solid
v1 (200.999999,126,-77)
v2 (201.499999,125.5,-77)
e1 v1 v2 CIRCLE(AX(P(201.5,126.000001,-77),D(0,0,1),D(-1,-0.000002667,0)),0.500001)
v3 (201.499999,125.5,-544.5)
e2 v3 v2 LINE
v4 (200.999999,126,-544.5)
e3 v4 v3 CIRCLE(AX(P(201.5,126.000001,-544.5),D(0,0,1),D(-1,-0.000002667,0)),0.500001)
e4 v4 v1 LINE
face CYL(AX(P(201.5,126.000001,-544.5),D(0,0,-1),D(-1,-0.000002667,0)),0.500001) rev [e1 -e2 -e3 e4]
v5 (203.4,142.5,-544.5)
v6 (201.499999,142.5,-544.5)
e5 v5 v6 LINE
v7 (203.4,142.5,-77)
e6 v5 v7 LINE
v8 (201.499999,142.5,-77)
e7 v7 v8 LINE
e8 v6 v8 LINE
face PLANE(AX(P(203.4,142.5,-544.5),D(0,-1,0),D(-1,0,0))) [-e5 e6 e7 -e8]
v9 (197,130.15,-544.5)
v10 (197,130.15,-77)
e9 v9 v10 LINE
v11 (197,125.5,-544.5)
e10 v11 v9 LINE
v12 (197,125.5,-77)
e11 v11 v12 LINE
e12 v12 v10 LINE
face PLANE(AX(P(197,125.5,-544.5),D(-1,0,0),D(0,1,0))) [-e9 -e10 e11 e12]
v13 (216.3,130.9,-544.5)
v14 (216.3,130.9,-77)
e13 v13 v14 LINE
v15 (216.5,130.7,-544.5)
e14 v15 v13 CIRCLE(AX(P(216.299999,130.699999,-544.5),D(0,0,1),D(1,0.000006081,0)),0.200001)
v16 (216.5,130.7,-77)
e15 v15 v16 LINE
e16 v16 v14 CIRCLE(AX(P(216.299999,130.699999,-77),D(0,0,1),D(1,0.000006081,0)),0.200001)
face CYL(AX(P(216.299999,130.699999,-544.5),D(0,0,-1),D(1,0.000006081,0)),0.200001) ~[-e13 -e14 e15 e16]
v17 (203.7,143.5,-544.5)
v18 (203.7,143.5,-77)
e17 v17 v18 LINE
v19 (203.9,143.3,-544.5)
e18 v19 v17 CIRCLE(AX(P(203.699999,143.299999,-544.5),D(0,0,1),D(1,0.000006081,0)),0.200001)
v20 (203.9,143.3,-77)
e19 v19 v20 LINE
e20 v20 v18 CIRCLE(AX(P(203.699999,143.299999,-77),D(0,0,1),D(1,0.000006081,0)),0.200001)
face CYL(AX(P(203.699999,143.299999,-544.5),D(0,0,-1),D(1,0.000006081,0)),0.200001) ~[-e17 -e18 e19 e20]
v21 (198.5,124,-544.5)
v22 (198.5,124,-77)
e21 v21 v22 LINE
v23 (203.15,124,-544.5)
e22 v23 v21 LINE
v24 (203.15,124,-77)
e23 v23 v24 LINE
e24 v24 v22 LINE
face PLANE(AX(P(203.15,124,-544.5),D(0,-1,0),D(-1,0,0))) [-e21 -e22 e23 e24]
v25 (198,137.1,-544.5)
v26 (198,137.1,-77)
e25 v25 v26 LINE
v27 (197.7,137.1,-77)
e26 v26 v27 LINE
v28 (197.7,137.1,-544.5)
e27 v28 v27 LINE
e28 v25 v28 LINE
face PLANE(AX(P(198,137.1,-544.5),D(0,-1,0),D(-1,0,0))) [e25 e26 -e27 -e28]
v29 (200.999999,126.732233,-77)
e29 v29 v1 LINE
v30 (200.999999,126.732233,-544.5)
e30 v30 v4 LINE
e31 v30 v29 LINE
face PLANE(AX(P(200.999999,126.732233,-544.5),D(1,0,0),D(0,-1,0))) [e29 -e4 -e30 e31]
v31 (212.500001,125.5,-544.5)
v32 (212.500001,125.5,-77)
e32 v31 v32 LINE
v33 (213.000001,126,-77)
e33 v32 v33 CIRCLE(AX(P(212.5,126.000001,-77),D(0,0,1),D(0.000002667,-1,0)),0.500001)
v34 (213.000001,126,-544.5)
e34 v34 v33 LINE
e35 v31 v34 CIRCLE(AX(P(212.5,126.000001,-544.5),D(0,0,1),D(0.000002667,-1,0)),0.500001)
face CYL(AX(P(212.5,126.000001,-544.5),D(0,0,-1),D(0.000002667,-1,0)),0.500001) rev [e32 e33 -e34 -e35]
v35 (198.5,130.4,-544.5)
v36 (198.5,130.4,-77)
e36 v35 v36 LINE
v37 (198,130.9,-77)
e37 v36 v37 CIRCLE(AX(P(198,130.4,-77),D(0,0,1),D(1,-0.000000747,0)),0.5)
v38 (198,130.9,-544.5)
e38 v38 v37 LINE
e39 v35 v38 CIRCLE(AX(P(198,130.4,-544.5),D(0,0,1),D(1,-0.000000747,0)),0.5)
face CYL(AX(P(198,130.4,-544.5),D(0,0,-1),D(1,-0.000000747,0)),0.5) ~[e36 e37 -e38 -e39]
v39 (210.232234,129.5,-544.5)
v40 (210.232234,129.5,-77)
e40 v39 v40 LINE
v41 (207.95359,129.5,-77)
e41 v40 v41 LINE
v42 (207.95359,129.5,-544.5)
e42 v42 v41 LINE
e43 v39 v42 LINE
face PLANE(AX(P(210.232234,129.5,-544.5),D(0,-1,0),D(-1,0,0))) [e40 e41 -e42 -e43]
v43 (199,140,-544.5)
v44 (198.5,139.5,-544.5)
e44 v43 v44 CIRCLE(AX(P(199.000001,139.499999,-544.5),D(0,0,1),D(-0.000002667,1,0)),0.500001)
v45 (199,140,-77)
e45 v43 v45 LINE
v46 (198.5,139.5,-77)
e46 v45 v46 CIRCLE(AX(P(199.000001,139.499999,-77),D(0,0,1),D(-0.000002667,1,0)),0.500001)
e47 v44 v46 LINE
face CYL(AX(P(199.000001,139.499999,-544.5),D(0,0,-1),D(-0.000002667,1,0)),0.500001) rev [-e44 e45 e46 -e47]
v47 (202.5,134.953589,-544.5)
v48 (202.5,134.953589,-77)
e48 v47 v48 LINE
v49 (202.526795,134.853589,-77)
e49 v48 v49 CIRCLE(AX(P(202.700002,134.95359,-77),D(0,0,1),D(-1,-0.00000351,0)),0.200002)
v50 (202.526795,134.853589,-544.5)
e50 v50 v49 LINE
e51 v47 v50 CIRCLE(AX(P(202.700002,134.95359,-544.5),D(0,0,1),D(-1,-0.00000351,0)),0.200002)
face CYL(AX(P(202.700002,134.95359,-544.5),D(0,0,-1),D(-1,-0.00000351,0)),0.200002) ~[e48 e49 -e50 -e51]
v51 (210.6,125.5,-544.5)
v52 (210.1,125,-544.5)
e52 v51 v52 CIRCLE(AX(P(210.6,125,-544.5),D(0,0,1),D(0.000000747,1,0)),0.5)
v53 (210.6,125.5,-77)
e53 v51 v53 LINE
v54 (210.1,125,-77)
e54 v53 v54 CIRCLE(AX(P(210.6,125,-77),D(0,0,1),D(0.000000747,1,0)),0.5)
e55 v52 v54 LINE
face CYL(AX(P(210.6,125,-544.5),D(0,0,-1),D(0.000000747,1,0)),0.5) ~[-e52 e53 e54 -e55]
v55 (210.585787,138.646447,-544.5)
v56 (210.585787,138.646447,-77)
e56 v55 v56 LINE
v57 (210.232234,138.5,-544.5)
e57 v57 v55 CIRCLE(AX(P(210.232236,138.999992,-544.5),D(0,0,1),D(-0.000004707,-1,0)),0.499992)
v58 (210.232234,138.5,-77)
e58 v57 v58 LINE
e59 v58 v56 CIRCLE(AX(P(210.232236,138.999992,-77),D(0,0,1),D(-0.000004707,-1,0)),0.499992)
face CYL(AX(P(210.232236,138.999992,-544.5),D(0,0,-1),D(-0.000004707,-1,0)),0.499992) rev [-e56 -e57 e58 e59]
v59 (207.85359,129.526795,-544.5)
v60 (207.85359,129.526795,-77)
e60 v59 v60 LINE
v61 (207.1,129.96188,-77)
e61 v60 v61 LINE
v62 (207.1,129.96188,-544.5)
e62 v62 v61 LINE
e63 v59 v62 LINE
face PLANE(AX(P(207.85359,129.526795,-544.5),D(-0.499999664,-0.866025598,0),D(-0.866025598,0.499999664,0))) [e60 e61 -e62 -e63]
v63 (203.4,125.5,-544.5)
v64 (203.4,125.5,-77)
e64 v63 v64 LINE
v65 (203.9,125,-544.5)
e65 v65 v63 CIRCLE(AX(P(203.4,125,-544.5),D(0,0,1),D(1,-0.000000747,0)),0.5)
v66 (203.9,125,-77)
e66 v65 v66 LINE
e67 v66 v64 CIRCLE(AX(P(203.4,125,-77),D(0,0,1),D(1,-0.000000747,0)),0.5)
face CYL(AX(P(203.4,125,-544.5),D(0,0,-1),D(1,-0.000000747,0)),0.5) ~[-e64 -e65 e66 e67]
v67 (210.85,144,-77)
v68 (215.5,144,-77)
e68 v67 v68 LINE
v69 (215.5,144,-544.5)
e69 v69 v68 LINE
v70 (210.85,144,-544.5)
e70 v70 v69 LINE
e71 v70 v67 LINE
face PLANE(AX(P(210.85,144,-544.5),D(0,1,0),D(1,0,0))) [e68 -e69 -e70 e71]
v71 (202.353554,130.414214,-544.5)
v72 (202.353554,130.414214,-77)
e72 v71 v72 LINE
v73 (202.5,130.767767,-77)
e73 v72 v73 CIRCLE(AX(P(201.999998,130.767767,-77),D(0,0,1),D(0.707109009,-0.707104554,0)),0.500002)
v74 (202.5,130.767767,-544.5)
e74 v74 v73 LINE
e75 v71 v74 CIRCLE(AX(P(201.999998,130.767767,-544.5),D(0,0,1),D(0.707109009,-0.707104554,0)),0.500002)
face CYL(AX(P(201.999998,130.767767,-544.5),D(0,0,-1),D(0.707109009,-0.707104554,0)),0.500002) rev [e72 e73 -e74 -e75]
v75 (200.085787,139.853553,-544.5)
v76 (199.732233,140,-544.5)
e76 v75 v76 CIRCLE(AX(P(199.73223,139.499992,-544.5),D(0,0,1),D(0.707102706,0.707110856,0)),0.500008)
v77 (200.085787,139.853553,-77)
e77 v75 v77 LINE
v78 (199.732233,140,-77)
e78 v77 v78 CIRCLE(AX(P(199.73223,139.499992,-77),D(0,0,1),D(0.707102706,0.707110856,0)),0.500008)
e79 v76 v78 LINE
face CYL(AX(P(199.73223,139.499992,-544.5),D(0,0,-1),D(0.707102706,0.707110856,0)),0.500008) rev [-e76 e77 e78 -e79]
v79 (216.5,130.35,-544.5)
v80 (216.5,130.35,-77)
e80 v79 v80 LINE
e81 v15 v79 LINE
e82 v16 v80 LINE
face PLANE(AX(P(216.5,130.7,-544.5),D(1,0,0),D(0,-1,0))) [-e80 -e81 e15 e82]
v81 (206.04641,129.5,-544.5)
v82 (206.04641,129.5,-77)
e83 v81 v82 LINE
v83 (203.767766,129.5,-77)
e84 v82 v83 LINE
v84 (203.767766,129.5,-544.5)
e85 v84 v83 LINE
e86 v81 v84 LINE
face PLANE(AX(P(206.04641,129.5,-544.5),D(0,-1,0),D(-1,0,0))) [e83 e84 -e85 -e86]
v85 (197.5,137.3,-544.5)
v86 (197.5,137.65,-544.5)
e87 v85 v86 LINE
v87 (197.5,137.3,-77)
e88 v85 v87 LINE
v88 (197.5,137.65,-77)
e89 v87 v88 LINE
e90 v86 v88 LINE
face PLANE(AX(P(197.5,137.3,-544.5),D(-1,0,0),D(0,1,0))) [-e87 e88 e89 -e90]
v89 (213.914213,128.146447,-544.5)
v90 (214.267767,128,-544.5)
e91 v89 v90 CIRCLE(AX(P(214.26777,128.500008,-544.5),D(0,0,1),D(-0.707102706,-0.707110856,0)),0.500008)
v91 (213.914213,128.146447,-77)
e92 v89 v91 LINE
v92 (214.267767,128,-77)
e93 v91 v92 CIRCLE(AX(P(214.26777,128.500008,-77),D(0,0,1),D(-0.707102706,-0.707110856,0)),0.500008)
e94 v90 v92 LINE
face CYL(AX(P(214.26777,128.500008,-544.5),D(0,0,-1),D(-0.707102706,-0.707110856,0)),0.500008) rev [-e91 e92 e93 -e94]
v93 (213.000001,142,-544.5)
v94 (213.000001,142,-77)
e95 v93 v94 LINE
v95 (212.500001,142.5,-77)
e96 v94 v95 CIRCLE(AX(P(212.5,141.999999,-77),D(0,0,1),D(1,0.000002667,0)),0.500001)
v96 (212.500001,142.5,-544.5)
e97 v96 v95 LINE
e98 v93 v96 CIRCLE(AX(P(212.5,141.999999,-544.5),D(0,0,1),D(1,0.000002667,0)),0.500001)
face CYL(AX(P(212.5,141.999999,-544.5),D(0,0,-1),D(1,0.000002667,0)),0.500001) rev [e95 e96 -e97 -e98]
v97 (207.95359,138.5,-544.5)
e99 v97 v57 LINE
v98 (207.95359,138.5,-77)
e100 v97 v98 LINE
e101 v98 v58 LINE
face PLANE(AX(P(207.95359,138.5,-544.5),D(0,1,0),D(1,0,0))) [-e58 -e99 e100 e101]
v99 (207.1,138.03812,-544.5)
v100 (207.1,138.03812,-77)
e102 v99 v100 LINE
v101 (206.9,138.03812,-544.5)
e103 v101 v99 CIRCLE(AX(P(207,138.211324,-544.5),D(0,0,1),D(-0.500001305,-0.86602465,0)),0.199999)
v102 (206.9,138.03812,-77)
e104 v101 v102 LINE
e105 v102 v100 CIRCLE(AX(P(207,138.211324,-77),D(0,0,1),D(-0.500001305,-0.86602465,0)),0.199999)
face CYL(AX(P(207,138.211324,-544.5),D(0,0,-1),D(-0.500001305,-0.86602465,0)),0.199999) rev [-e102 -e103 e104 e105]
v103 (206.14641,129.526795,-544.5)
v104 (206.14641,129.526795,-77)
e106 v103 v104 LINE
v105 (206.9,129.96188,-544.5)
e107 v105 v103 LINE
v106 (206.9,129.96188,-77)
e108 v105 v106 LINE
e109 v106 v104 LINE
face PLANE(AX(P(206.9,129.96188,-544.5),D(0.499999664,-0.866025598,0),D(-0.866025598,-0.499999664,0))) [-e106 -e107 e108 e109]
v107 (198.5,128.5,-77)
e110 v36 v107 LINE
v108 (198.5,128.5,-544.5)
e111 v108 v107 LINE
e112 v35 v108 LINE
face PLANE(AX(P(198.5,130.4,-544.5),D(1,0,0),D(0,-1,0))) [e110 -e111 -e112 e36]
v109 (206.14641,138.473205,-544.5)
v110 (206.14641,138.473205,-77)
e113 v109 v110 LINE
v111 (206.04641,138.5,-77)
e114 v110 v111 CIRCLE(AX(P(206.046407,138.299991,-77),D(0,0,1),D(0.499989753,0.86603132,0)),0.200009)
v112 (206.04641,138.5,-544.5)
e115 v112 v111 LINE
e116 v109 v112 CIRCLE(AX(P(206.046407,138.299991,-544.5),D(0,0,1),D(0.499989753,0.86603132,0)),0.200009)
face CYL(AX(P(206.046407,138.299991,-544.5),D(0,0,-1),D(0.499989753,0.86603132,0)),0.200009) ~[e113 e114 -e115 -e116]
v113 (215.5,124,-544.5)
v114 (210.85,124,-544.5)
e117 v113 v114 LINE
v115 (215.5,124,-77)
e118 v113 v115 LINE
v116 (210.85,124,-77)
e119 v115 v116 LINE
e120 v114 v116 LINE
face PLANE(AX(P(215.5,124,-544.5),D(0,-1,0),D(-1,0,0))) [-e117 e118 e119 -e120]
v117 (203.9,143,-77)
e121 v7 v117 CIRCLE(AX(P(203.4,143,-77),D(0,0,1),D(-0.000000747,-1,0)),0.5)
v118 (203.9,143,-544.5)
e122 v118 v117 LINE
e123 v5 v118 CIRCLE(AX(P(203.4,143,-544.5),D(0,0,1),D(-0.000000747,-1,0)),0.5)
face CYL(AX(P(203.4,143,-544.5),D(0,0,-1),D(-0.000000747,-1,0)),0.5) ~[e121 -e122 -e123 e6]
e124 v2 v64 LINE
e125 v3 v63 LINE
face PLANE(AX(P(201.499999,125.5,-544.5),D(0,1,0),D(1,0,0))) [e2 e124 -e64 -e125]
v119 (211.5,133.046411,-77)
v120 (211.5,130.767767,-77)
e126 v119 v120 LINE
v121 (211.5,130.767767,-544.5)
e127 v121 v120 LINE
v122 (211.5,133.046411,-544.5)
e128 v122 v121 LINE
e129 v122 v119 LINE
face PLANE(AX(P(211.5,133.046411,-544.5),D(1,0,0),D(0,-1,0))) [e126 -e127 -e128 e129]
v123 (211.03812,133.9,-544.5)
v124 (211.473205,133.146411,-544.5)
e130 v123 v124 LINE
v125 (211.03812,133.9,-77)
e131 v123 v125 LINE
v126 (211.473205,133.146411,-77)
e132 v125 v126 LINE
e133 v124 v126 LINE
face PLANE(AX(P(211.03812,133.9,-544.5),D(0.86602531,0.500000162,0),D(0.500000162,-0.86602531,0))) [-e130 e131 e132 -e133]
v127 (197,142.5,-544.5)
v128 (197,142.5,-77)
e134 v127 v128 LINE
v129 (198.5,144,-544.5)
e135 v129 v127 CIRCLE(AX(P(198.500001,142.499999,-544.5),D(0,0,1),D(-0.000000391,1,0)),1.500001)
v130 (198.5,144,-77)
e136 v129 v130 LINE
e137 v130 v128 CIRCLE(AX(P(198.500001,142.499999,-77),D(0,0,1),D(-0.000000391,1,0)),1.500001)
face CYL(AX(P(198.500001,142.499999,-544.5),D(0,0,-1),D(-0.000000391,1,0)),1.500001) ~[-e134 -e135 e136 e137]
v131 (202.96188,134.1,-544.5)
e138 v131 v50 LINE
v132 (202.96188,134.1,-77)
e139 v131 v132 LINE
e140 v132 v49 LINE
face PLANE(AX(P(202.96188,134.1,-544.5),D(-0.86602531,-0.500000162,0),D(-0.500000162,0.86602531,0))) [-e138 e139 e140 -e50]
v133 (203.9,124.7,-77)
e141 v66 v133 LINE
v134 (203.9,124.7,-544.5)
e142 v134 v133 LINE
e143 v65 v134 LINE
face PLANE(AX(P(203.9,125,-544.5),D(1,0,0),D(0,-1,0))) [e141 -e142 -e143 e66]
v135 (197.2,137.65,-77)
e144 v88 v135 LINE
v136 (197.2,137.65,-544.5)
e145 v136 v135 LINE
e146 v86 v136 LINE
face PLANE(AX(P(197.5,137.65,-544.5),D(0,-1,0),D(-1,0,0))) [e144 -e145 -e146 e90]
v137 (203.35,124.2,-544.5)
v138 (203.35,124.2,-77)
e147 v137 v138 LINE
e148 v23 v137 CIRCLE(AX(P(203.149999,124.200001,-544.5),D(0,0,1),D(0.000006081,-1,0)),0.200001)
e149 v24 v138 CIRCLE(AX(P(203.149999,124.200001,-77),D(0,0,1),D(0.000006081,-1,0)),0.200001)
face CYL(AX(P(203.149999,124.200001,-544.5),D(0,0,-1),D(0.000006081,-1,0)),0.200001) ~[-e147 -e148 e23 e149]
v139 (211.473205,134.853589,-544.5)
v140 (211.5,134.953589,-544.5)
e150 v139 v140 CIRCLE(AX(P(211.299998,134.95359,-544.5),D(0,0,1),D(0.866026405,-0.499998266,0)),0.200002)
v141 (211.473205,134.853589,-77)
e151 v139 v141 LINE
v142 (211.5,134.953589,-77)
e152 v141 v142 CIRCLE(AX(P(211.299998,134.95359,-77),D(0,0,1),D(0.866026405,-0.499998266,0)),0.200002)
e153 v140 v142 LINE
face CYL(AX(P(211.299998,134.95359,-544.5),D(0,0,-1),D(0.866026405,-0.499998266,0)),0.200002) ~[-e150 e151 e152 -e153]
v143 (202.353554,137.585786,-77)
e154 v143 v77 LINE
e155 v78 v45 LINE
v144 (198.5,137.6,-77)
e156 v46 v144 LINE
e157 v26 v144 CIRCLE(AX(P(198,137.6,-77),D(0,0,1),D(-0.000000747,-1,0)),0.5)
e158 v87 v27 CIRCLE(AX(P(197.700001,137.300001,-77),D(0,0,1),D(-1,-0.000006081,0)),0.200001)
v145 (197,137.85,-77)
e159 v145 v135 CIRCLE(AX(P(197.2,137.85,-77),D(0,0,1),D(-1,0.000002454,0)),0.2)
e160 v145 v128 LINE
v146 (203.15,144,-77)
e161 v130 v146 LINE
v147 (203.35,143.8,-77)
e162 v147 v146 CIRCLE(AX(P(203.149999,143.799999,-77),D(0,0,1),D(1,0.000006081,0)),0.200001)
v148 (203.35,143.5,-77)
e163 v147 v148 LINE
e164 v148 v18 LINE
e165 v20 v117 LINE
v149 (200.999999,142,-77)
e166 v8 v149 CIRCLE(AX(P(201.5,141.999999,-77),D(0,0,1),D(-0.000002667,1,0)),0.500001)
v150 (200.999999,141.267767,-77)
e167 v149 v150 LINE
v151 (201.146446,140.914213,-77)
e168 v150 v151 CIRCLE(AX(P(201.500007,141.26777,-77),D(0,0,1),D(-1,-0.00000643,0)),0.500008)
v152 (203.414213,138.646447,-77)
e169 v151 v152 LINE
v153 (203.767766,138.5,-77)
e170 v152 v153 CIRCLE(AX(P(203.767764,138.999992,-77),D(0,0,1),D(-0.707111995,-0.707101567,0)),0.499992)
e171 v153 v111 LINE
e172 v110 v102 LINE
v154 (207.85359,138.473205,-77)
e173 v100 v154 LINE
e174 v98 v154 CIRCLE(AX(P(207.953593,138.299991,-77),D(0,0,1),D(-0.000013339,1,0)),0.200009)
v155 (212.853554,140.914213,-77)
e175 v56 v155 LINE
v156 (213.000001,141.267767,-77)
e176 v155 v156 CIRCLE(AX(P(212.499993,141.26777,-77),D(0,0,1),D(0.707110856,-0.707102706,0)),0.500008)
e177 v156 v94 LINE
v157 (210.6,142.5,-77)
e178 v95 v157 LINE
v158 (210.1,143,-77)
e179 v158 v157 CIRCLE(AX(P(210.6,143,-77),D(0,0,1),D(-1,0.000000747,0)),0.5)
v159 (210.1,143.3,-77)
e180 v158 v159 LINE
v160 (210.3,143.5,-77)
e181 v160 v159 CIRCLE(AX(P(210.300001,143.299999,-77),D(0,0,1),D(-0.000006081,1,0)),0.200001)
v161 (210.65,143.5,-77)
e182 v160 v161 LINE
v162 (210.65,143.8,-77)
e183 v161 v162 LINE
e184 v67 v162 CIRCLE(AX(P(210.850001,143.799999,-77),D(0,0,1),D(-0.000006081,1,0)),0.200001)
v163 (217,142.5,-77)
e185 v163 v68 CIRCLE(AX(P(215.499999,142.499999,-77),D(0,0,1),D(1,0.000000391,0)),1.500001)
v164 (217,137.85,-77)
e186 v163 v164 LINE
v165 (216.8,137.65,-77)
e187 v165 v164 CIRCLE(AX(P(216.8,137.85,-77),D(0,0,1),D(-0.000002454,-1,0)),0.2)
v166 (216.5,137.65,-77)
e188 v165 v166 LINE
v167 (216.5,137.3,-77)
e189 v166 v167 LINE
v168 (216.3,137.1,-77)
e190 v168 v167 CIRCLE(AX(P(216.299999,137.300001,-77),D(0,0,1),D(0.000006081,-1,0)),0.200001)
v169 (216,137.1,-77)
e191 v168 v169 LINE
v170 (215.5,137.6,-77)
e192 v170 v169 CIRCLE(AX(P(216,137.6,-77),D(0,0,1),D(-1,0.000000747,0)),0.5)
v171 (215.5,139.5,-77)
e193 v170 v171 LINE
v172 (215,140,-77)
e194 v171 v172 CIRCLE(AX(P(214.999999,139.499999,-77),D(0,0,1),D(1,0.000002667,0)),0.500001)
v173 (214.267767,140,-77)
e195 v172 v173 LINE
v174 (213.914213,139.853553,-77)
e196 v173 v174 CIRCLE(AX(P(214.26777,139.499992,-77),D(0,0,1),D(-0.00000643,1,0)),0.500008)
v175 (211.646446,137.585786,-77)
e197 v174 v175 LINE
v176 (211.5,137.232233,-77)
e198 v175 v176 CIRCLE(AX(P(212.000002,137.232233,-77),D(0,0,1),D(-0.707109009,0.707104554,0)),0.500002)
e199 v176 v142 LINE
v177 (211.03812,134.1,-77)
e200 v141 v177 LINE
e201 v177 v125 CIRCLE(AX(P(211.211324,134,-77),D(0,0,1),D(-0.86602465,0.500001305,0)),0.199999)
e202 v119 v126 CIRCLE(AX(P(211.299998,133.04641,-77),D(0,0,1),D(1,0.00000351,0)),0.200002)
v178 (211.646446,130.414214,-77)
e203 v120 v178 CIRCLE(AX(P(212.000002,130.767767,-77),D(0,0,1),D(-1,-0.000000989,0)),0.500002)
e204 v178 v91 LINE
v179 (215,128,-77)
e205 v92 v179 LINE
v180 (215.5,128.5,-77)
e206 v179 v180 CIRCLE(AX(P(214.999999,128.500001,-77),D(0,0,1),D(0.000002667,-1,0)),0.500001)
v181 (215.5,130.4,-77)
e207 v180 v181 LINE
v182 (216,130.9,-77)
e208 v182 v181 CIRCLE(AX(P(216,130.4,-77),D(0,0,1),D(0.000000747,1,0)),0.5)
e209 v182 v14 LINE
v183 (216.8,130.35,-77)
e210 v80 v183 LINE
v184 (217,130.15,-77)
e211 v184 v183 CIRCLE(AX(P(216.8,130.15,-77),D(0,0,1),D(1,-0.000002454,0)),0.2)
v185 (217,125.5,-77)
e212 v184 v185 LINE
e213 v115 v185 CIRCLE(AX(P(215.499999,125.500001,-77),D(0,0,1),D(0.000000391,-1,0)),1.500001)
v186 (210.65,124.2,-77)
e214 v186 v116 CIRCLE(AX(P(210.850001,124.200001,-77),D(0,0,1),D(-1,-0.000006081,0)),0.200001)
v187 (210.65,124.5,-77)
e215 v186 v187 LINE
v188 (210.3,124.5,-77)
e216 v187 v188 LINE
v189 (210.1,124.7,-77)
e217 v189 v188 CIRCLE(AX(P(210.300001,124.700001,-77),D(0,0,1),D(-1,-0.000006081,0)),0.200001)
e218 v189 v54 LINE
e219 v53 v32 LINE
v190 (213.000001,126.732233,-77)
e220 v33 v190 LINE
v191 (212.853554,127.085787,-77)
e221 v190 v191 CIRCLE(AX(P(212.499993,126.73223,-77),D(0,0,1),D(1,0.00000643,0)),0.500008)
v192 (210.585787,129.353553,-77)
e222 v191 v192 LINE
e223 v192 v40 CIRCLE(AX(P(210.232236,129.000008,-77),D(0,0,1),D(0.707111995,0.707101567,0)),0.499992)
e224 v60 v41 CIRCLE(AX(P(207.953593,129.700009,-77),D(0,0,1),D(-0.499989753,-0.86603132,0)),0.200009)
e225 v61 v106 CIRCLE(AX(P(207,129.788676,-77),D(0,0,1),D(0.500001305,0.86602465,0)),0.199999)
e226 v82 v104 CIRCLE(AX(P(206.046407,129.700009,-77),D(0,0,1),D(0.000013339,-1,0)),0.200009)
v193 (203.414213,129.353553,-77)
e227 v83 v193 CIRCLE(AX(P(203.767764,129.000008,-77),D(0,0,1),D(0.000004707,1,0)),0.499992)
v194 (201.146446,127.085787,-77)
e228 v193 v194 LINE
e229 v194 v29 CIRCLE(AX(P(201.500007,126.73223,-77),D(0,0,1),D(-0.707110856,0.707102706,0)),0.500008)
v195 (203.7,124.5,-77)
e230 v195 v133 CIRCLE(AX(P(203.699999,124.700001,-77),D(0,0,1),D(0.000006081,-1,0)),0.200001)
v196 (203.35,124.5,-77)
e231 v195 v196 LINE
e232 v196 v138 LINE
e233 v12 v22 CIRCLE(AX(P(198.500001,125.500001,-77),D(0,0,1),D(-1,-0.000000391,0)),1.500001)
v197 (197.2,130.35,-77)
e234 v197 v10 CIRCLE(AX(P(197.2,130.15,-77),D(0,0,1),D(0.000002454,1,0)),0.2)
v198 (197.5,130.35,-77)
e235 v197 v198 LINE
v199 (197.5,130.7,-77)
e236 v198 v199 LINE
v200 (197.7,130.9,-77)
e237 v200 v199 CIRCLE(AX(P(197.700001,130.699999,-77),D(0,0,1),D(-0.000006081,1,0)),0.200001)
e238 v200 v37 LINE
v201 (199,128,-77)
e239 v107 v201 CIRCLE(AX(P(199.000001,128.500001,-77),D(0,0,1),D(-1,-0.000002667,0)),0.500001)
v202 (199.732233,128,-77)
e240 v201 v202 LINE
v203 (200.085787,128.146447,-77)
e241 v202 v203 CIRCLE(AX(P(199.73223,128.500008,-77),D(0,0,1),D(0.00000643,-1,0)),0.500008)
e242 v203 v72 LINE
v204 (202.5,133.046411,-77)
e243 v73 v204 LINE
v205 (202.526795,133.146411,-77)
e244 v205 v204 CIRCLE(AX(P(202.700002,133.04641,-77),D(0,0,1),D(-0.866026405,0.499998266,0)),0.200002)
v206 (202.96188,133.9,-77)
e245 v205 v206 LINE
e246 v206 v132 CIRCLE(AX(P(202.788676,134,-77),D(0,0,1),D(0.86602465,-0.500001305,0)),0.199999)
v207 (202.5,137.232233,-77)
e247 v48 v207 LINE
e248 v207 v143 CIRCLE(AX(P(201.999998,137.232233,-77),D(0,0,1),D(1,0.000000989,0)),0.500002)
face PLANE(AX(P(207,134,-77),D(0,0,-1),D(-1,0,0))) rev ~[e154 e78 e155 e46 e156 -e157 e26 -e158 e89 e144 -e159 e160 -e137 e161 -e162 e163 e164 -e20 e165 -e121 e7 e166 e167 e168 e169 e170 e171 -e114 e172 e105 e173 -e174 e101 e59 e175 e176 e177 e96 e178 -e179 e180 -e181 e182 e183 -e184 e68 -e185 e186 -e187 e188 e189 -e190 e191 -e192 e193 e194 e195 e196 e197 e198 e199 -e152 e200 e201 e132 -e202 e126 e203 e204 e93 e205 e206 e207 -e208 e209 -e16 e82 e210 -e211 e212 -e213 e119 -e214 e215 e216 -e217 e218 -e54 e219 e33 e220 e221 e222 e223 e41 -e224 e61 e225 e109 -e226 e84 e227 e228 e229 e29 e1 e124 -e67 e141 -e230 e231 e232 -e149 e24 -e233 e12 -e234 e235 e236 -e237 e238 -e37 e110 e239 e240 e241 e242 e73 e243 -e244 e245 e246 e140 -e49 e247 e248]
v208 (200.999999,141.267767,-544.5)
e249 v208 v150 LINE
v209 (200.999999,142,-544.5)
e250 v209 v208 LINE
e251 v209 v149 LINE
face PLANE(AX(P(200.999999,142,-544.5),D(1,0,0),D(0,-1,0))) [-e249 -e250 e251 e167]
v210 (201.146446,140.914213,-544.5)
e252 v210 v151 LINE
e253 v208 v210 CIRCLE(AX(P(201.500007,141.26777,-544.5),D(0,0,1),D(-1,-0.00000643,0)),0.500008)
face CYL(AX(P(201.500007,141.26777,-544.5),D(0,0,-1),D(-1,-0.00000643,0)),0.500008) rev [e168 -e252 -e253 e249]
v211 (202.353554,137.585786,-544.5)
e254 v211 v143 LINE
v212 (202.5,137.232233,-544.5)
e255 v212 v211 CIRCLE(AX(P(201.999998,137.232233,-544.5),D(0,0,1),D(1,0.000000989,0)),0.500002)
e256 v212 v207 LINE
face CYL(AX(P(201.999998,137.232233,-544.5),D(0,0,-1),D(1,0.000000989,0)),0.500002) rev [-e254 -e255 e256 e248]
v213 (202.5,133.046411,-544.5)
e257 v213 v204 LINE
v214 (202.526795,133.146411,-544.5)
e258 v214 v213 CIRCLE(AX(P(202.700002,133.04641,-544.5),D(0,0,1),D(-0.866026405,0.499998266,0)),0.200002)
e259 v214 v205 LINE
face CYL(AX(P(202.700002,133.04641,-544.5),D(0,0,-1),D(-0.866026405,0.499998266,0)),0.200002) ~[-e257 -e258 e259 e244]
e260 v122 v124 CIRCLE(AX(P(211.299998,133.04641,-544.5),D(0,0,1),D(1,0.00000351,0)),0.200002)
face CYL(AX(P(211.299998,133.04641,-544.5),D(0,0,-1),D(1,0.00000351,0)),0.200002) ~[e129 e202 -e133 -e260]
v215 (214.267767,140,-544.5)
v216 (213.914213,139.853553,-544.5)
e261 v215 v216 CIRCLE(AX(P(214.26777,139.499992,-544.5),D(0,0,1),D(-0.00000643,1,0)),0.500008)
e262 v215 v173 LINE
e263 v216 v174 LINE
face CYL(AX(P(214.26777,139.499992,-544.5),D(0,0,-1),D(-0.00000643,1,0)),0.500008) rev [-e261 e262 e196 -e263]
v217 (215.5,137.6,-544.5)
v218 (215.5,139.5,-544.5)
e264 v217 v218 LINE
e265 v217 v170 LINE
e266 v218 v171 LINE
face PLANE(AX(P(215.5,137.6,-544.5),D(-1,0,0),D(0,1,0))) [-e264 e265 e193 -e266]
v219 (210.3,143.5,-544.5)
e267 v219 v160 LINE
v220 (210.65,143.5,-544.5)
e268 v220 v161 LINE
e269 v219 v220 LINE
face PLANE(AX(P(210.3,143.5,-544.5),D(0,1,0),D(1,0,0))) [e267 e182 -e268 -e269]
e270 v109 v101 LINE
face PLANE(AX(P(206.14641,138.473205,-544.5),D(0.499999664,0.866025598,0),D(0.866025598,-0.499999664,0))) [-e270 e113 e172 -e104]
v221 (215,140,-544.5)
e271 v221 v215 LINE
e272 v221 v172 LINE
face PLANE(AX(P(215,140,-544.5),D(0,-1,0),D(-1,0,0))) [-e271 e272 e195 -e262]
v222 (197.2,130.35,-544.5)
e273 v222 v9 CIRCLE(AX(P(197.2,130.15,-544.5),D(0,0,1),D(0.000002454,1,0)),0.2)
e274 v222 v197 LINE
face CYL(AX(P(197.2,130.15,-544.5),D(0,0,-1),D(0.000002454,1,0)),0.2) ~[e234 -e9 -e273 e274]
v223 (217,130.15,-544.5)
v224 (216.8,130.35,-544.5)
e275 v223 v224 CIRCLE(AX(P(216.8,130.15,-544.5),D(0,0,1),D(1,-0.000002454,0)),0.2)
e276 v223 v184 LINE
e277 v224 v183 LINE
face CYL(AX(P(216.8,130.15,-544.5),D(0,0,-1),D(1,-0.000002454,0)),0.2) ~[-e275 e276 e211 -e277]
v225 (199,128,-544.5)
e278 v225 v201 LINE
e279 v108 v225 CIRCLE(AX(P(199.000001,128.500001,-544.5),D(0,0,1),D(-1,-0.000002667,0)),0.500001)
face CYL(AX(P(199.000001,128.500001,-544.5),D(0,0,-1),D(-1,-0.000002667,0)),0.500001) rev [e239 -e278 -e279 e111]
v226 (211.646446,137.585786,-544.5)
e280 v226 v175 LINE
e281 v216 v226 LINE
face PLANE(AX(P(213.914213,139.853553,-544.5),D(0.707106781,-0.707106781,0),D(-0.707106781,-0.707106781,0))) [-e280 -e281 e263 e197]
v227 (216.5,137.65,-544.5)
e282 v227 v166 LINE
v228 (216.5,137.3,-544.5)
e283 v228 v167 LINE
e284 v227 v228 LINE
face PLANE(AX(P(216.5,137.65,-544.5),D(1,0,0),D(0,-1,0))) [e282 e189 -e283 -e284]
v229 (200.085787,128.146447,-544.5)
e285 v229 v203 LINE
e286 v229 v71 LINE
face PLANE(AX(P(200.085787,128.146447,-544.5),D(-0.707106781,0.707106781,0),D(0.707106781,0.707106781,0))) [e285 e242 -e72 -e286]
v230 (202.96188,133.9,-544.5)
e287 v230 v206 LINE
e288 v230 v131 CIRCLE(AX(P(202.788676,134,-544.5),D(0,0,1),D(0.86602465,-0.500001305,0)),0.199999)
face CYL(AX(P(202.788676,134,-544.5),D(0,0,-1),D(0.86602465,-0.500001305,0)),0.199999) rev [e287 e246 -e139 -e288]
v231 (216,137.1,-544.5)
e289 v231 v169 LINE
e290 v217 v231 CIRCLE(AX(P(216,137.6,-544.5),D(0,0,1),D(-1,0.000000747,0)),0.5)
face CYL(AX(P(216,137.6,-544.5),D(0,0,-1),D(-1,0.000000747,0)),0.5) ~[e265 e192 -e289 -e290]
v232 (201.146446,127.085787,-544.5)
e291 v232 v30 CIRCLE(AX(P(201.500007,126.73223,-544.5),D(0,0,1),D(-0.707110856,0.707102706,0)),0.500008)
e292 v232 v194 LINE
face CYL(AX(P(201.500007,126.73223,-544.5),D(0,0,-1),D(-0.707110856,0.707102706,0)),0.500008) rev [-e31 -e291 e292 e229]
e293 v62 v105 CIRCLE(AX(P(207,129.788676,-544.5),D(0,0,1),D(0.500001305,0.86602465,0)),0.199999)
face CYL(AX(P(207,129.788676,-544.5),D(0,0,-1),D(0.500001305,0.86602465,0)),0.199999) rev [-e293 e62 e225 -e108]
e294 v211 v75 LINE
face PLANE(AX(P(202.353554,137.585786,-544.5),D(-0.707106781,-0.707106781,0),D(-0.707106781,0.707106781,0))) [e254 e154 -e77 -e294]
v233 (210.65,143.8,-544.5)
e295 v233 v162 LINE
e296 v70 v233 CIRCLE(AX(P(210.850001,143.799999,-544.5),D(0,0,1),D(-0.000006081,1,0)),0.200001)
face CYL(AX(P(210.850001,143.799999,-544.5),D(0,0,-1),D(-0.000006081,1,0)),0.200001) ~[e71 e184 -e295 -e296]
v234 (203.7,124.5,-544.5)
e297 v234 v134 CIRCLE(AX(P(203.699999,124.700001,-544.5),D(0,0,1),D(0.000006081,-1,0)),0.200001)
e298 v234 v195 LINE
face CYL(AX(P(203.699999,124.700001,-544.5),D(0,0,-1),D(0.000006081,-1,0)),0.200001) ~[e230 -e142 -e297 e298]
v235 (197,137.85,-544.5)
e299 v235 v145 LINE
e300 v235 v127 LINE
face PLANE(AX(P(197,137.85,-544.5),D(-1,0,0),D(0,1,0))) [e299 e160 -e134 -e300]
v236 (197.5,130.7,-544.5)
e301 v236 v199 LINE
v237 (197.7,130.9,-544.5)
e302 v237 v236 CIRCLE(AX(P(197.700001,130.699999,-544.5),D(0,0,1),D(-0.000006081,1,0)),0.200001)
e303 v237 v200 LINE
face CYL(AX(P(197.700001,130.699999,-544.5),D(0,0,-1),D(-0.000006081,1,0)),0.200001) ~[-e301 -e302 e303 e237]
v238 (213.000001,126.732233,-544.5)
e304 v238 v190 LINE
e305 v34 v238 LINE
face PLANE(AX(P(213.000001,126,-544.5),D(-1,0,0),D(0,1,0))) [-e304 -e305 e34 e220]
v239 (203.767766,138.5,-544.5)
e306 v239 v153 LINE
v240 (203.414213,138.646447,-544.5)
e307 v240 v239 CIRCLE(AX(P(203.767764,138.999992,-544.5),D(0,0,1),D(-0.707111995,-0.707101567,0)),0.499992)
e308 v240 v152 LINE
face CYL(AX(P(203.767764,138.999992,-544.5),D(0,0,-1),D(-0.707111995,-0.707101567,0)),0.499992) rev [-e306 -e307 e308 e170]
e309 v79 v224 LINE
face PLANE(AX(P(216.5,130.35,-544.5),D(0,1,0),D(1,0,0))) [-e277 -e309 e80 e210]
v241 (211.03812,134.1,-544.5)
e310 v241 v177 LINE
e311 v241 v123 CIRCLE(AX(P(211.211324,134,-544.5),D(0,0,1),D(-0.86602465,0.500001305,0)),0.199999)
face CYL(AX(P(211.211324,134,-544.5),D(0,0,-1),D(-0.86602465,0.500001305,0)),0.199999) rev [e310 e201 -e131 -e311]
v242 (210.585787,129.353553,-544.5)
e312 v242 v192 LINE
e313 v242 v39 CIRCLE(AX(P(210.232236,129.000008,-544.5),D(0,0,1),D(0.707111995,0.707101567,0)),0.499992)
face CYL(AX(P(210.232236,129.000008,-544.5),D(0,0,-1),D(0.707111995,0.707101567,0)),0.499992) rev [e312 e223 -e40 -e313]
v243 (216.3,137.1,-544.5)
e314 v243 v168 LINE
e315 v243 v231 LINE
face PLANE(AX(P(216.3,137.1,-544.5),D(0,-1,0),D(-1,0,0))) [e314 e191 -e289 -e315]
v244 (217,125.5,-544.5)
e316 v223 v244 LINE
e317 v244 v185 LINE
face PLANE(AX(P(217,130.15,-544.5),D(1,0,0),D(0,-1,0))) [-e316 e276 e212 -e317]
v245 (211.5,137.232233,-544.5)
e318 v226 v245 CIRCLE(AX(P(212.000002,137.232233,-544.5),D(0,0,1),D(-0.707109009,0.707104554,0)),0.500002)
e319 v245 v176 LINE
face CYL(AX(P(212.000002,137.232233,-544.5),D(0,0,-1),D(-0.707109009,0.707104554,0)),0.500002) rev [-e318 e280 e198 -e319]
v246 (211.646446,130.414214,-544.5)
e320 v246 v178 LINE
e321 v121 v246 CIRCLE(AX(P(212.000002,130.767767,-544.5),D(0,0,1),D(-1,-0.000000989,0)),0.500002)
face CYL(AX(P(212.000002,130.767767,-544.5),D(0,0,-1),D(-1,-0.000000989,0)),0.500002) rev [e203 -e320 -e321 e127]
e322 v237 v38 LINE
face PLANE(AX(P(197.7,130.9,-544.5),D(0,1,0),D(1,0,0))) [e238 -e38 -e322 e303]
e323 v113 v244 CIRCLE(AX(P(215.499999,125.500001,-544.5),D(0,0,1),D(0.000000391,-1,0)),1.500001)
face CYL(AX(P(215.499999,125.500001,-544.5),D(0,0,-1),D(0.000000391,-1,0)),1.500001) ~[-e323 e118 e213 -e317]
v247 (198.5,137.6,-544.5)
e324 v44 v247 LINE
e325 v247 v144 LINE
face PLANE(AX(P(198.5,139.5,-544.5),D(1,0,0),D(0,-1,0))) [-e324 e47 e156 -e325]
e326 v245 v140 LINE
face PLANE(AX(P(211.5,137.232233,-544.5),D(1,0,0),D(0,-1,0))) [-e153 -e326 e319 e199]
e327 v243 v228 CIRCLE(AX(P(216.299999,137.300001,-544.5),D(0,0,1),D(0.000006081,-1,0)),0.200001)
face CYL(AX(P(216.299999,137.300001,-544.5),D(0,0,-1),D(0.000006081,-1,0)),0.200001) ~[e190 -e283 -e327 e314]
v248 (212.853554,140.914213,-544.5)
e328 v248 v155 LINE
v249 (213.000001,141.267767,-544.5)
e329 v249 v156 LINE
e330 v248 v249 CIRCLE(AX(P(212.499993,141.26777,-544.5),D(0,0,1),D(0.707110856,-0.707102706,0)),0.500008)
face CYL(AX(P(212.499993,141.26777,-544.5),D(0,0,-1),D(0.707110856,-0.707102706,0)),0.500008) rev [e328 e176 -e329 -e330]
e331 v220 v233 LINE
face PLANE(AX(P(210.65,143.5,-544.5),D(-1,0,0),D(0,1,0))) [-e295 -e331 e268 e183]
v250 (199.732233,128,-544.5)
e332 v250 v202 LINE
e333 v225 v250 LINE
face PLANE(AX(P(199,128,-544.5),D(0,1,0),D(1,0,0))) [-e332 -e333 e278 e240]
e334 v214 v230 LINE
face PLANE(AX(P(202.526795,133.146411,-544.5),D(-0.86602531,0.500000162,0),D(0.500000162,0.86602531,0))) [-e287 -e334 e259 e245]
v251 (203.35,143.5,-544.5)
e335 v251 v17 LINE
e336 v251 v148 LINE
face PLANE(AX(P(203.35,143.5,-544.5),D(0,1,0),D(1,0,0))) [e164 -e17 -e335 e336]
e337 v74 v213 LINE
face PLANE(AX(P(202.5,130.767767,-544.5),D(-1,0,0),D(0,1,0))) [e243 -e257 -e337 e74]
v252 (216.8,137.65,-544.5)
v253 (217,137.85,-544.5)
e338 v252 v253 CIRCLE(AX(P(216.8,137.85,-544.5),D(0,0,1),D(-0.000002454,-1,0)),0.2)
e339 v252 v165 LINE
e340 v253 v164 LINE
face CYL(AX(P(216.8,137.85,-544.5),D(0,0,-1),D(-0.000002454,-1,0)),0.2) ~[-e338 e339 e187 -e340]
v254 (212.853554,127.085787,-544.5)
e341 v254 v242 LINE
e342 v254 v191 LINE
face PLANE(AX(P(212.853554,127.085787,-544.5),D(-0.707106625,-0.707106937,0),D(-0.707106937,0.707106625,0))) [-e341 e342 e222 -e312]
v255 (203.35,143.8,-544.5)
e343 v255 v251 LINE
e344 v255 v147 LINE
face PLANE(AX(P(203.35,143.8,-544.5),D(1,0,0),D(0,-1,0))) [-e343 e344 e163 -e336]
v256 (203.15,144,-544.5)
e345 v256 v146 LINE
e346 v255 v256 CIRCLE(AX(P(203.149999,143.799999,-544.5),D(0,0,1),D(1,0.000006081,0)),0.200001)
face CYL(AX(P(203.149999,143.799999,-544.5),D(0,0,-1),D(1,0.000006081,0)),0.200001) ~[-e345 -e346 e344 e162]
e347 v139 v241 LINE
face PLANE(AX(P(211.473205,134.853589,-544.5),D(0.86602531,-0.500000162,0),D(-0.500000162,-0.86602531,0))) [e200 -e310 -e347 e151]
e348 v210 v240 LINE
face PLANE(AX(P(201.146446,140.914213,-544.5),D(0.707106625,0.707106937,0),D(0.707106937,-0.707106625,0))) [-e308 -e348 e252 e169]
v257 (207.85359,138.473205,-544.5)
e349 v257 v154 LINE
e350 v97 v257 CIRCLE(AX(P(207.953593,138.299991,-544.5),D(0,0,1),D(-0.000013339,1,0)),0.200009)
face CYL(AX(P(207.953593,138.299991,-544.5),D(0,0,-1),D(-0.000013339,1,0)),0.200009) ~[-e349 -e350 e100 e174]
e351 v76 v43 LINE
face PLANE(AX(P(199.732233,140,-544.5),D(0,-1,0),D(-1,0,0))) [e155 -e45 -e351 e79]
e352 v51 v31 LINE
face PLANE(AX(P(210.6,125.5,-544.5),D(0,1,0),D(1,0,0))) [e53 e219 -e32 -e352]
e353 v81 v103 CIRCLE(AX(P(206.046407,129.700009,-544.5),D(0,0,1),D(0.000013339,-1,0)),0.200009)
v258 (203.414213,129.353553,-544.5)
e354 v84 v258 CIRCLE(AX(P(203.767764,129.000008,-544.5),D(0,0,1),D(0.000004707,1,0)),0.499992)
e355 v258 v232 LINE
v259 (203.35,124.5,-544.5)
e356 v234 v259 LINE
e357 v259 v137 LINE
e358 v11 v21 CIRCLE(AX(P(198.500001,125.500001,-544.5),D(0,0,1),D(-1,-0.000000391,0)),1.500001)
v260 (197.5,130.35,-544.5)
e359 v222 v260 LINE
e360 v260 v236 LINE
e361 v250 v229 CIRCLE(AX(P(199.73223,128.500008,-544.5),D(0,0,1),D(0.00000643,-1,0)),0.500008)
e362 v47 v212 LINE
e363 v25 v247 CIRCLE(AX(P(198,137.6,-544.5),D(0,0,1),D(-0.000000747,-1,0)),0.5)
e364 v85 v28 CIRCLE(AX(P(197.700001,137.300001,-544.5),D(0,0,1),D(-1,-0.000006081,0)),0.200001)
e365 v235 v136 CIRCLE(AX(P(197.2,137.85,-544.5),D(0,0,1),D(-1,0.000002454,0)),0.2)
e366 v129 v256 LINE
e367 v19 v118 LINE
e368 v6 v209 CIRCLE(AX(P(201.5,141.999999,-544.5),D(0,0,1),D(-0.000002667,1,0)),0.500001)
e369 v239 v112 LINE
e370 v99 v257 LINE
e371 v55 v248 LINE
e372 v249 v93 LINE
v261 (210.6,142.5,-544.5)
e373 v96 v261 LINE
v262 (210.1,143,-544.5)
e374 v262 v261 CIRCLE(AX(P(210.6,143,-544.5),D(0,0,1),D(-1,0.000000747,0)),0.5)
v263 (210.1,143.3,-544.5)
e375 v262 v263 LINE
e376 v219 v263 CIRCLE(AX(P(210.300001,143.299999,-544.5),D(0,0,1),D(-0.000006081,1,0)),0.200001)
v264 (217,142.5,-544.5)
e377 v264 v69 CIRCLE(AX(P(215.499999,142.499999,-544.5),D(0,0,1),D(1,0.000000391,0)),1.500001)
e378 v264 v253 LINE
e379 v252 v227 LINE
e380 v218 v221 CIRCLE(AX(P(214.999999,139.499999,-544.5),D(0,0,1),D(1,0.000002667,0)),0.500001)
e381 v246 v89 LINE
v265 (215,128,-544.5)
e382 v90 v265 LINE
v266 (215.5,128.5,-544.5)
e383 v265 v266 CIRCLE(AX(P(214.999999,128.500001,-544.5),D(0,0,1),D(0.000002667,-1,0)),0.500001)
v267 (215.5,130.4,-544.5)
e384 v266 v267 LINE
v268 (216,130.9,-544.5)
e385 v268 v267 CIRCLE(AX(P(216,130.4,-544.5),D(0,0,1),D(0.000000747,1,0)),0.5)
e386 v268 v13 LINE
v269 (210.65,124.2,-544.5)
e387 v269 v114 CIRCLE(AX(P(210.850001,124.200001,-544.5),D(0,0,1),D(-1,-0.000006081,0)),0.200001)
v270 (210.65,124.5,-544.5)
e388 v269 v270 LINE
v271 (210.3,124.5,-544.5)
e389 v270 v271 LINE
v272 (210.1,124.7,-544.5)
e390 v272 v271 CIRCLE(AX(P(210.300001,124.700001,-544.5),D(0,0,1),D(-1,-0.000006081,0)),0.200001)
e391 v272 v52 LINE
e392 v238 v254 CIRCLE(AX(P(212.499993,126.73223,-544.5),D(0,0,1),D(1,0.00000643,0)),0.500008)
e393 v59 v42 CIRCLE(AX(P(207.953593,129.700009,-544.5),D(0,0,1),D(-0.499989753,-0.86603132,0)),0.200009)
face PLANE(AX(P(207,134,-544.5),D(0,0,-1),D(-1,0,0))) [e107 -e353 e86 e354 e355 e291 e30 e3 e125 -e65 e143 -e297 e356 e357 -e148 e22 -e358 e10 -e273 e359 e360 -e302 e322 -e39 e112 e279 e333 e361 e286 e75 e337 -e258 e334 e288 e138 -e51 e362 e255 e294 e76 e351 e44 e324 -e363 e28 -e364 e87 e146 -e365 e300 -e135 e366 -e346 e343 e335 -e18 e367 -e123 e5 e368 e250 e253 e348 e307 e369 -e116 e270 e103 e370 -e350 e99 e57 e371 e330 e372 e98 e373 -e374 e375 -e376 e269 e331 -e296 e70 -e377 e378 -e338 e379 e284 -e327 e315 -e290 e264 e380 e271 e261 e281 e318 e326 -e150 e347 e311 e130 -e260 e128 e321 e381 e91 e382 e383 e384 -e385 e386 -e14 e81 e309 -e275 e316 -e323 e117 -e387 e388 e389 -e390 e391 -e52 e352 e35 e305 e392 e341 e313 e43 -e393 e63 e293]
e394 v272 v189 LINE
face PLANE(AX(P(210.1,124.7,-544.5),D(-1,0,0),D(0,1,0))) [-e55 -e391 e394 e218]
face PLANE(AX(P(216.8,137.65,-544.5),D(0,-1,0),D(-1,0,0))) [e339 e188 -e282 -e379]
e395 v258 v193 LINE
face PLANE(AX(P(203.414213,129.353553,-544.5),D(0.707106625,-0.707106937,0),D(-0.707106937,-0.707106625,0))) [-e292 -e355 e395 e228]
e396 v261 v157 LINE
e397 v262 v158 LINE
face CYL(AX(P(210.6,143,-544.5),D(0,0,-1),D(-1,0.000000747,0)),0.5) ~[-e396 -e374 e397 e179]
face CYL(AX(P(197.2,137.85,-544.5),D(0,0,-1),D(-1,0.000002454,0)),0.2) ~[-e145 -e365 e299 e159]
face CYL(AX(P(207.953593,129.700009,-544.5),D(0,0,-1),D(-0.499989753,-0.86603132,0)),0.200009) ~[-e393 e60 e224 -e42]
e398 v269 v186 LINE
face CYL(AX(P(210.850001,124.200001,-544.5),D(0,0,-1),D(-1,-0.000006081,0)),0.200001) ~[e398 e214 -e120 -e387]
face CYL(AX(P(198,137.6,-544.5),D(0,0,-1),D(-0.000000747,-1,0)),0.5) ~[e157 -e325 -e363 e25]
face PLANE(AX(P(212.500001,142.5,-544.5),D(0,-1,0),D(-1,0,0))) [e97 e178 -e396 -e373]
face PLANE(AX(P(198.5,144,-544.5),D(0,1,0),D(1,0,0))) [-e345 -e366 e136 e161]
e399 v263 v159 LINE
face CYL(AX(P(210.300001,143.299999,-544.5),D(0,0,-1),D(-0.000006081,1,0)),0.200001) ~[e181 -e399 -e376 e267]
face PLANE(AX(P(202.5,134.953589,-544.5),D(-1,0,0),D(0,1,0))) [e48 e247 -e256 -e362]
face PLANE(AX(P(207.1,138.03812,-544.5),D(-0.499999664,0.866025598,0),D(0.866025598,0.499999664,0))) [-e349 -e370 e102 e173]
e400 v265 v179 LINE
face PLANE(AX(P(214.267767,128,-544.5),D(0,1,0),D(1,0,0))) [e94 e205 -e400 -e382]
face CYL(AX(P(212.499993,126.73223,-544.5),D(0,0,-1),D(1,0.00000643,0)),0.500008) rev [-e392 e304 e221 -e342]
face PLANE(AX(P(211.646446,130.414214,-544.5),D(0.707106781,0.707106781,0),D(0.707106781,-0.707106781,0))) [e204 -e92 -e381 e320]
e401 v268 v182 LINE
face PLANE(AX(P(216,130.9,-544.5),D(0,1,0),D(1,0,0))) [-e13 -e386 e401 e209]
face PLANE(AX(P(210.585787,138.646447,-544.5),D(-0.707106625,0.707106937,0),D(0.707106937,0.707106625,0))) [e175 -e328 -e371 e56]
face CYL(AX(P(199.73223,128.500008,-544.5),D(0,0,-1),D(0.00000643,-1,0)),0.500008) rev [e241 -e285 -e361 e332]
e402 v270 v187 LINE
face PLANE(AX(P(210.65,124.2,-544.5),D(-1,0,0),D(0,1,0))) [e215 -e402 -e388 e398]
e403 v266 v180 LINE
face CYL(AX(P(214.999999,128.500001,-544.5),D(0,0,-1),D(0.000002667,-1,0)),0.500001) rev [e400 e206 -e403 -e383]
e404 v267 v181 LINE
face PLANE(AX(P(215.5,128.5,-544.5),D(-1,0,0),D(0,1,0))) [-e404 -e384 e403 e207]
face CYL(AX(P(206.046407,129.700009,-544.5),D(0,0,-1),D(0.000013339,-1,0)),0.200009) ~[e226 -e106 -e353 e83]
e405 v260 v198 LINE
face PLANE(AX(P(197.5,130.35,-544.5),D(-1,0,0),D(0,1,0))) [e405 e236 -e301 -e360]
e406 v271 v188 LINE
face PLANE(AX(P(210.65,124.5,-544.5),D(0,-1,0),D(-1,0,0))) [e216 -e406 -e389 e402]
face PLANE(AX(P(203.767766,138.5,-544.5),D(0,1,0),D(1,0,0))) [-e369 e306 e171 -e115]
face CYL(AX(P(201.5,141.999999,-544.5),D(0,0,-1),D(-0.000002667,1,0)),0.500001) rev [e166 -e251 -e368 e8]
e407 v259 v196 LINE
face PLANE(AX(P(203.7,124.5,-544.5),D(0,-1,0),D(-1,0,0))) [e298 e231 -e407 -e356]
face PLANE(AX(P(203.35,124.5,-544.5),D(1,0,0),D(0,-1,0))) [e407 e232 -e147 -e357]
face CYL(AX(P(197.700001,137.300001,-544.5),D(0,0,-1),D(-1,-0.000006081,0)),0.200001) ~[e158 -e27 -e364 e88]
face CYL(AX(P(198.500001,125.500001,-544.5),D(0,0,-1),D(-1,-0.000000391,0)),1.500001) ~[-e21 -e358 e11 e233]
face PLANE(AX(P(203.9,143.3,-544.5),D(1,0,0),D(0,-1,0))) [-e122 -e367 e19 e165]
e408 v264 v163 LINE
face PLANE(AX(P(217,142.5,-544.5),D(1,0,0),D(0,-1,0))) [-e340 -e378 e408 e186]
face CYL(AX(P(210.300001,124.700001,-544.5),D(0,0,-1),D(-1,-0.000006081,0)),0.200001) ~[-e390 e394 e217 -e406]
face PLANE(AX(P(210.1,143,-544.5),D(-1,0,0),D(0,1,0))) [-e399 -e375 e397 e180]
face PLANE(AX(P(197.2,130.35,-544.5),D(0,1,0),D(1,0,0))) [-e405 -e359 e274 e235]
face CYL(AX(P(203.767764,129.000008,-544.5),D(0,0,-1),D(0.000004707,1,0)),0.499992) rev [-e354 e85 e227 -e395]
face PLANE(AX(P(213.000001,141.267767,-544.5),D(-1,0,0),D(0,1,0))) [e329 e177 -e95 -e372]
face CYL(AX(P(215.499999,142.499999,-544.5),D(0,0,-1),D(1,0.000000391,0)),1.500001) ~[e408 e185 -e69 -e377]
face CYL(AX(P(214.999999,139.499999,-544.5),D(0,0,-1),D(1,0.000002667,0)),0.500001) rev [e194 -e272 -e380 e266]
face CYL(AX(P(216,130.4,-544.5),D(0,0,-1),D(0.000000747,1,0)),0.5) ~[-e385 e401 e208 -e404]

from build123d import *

# Parameters (mm, degrees)
PAD013_DEPTH    = 467.5
POCKET030_DEPTH = 467.501


with BuildPart() as pad013:
    # Sketch045 → Pad013 (new body)
    with BuildSketch(Plane(origin=(1.5, 0, 0), x_dir=(1, 0, 0), z_dir=(0, 0, 1))):
        with BuildLine():
            Line((0, 20), (4.65, 20))
            ThreePointArc((4.85, 19.8), (4.791421, 19.941421), (4.65, 20))
            Line((4.85, 19.8), (4.85, 19.5))
            Line((4.85, 19.5), (5.2, 19.5))
            ThreePointArc((5.4, 19.3), (5.341421, 19.441421), (5.2, 19.5))
            Line((5.4, 19.3), (5.4, 19))
            ThreePointArc((4.9, 18.5), (5.253553, 18.646446), (5.4, 19))
            Line((4.9, 18.5), (2.999999, 18.5))
            ThreePointArc((2.999999, 18.5), (2.646446, 18.353553), (2.499999, 18))
            Line((2.499999, 18), (2.499999, 17.267767))
            ThreePointArc((2.499999, 17.267767), (2.53806, 17.076425), (2.646446, 16.914213))
            Line((2.646446, 16.914213), (4.914213, 14.646447))
            ThreePointArc((4.914213, 14.646447), (5.076424, 14.53806), (5.267766, 14.5))
            Line((5.267766, 14.5), (7.54641, 14.5))
            ThreePointArc((7.64641, 14.473205), (7.598173, 14.493185), (7.54641, 14.5))
            Line((7.64641, 14.473205), (8.4, 14.03812))
            ThreePointArc((8.4, 14.03812), (8.5, 14.011325), (8.6, 14.03812))
            Line((8.6, 14.03812), (9.35359, 14.473205))
            ThreePointArc((9.45359, 14.5), (9.401827, 14.493185), (9.35359, 14.473205))
            Line((9.45359, 14.5), (11.732234, 14.5))
            ThreePointArc((11.732234, 14.5), (11.923576, 14.53806), (12.085787, 14.646447))
            Line((12.085787, 14.646447), (14.353554, 16.914213))
            ThreePointArc((14.353554, 16.914213), (14.46194, 17.076425), (14.500001, 17.267767))
            Line((14.500001, 17.267767), (14.500001, 18))
            ThreePointArc((14.500001, 18), (14.353554, 18.353553), (14.000001, 18.5))
            Line((14.000001, 18.5), (12.1, 18.5))
            ThreePointArc((11.6, 19), (11.746447, 18.646446), (12.1, 18.5))
            Line((11.6, 19), (11.6, 19.3))
            ThreePointArc((11.8, 19.5), (11.658579, 19.441421), (11.6, 19.3))
            Line((11.8, 19.5), (12.15, 19.5))
            Line((12.15, 19.5), (12.15, 19.8))
            ThreePointArc((12.35, 20), (12.208579, 19.941421), (12.15, 19.8))
            Line((12.35, 20), (17, 20))
            ThreePointArc((18.5, 18.5), (18.06066, 19.56066), (17, 20))
            Line((18.5, 18.5), (18.5, 13.85))
            ThreePointArc((18.3, 13.65), (18.441421, 13.708578), (18.5, 13.85))
            Line((18.3, 13.65), (18, 13.65))
            Line((18, 13.65), (18, 13.3))
            ThreePointArc((17.8, 13.1), (17.941421, 13.158579), (18, 13.3))
            Line((17.8, 13.1), (17.5, 13.1))
            ThreePointArc((17, 13.6), (17.146446, 13.246447), (17.5, 13.1))
            Line((17, 13.6), (17, 15.5))
            ThreePointArc((17, 15.5), (16.853553, 15.853553), (16.5, 16))
            Line((16.5, 16), (15.767767, 16))
            ThreePointArc((15.767767, 16), (15.576425, 15.961939), (15.414213, 15.853553))
            Line((15.414213, 15.853553), (13.146446, 13.585786))
            ThreePointArc((13.146446, 13.585786), (13.03806, 13.423574), (13, 13.232233))
            Line((13, 13.232233), (13, 10.953589))
            ThreePointArc((12.973205, 10.853589), (12.993185, 10.901825), (13, 10.953589))
            Line((12.973205, 10.853589), (12.53812, 10.1))
            ThreePointArc((12.53812, 10.1), (12.511325, 10), (12.53812, 9.9))
            Line((12.53812, 9.9), (12.973205, 9.146411))
            ThreePointArc((13, 9.046411), (12.993185, 9.098175), (12.973205, 9.146411))
            Line((13, 9.046411), (13, 6.767767))
            ThreePointArc((13, 6.767767), (13.03806, 6.576426), (13.146446, 6.414214))
            Line((13.146446, 6.414214), (15.414213, 4.146447))
            ThreePointArc((15.414213, 4.146447), (15.576425, 4.038061), (15.767767, 4))
            Line((15.767767, 4), (16.5, 4))
            ThreePointArc((16.5, 4), (16.853553, 4.146447), (17, 4.5))
            Line((17, 4.5), (17, 6.4))
            ThreePointArc((17.5, 6.9), (17.146446, 6.753553), (17, 6.4))
            Line((17.5, 6.9), (17.8, 6.9))
            ThreePointArc((18, 6.7), (17.941421, 6.841421), (17.8, 6.9))
            Line((18, 6.7), (18, 6.35))
            Line((18, 6.35), (18.3, 6.35))
            ThreePointArc((18.5, 6.15), (18.441421, 6.291422), (18.3, 6.35))
            Line((18.5, 6.15), (18.5, 1.5))
            ThreePointArc((17, 0), (18.06066, 0.43934), (18.5, 1.5))
            Line((17, 0), (12.35, 0))
            ThreePointArc((12.15, 0.2), (12.208579, 0.058579), (12.35, 0))
            Line((12.15, 0.2), (12.15, 0.5))
            Line((12.15, 0.5), (11.8, 0.5))
            ThreePointArc((11.6, 0.7), (11.658579, 0.558579), (11.8, 0.5))
            Line((11.6, 0.7), (11.6, 1))
            ThreePointArc((12.1, 1.5), (11.746447, 1.353554), (11.6, 1))
            Line((12.1, 1.5), (14.000001, 1.5))
            ThreePointArc((14.000001, 1.5), (14.353554, 1.646447), (14.500001, 2))
            Line((14.500001, 2), (14.500001, 2.732233))
            ThreePointArc((14.500001, 2.732233), (14.46194, 2.923575), (14.353554, 3.085787))
            Line((14.353554, 3.085787), (12.085787, 5.353553))
            ThreePointArc((12.085787, 5.353553), (11.923576, 5.46194), (11.732234, 5.5))
            Line((11.732234, 5.5), (9.45359, 5.5))
            ThreePointArc((9.35359, 5.526795), (9.401827, 5.506815), (9.45359, 5.5))
            Line((9.35359, 5.526795), (8.6, 5.96188))
            ThreePointArc((8.6, 5.96188), (8.5, 5.988675), (8.4, 5.96188))
            Line((8.4, 5.96188), (7.64641, 5.526795))
            ThreePointArc((7.54641, 5.5), (7.598173, 5.506815), (7.64641, 5.526795))
            Line((7.54641, 5.5), (5.267766, 5.5))
            ThreePointArc((5.267766, 5.5), (5.076424, 5.46194), (4.914213, 5.353553))
            Line((4.914213, 5.353553), (2.646446, 3.085787))
            ThreePointArc((2.646446, 3.085787), (2.53806, 2.923575), (2.499999, 2.732233))
            Line((2.499999, 2.732233), (2.499999, 2))
            ThreePointArc((2.499999, 2), (2.646446, 1.646447), (2.999999, 1.5))
            Line((2.999999, 1.5), (4.9, 1.5))
            ThreePointArc((5.4, 1), (5.253553, 1.353554), (4.9, 1.5))
            Line((5.4, 1), (5.4, 0.7))
            ThreePointArc((5.2, 0.5), (5.341421, 0.558579), (5.4, 0.7))
            Line((5.2, 0.5), (4.85, 0.5))
            Line((4.85, 0.5), (4.85, 0.2))
            ThreePointArc((4.65, 0), (4.791421, 0.058579), (4.85, 0.2))
            Line((4.65, 0), (0, 0))
            ThreePointArc((-1.5, 1.5), (-1.06066, 0.43934), (0, 0))
            Line((-1.5, 1.5), (-1.5, 6.15))
            ThreePointArc((-1.3, 6.35), (-1.441421, 6.291422), (-1.5, 6.15))
            Line((-1.3, 6.35), (-1, 6.35))
            Line((-1, 6.35), (-1, 6.7))
            ThreePointArc((-0.8, 6.9), (-0.941421, 6.841421), (-1, 6.7))
            Line((-0.8, 6.9), (-0.5, 6.9))
            ThreePointArc((0, 6.4), (-0.146446, 6.753553), (-0.5, 6.9))
            Line((0, 6.4), (0, 4.5))
            ThreePointArc((0, 4.5), (0.146447, 4.146447), (0.5, 4))
            Line((0.5, 4), (1.232233, 4))
            ThreePointArc((1.232233, 4), (1.423575, 4.038061), (1.585787, 4.146447))
            Line((1.585787, 4.146447), (3.853554, 6.414214))
            ThreePointArc((3.853554, 6.414214), (3.96194, 6.576426), (4, 6.767767))
            Line((4, 6.767767), (4, 9.046411))
            ThreePointArc((4.026795, 9.146411), (4.006815, 9.098175), (4, 9.046411))
            Line((4.026795, 9.146411), (4.46188, 9.9))
            ThreePointArc((4.46188, 9.9), (4.488675, 10), (4.46188, 10.1))
            Line((4.46188, 10.1), (4.026795, 10.853589))
            ThreePointArc((4, 10.953589), (4.006815, 10.901825), (4.026795, 10.853589))
            Line((4, 10.953589), (4, 13.232233))
            ThreePointArc((4, 13.232233), (3.96194, 13.423574), (3.853554, 13.585786))
            Line((3.853554, 13.585786), (1.585787, 15.853553))
            ThreePointArc((1.585787, 15.853553), (1.423575, 15.961939), (1.232233, 16))
            Line((1.232233, 16), (0.5, 16))
            ThreePointArc((0.5, 16), (0.146447, 15.853553), (0, 15.5))
            Line((0, 15.5), (0, 13.6))
            ThreePointArc((-0.5, 13.1), (-0.146446, 13.246447), (0, 13.6))
            Line((-0.5, 13.1), (-0.8, 13.1))
            ThreePointArc((-1, 13.3), (-0.941421, 13.158579), (-0.8, 13.1))
            Line((-1, 13.3), (-1, 13.65))
            Line((-1, 13.65), (-1.3, 13.65))
            ThreePointArc((-1.5, 13.85), (-1.441421, 13.708578), (-1.3, 13.65))
            Line((-1.5, 13.85), (-1.5, 18.5))
            ThreePointArc((0, 20), (-1.06066, 19.56066), (-1.5, 18.5))
        make_face()
    extrude(amount=PAD013_DEPTH)


with BuildPart() as fusion031:
    # Pocket030 base: copy of Pad013
    add(pad013.part)

    # Sketch046 → Pocket030 (cut, through all)
    with BuildSketch(Plane(origin=(1.5, 0, 467.5), x_dir=(1, 0, 0), z_dir=(0, 0, 1))):
        with BuildLine():
            ThreePointArc((6.586105, 12.989641), (5.988263, 12.50841), (5.507825, 11.909931))
            Line((6.054705, 11.258185), (5.507825, 11.909931))
            ThreePointArc((6.054705, 11.258185), (5.75, 10), (6.054705, 8.741815))
            Line((5.507825, 8.090069), (6.054705, 8.741815))
            ThreePointArc((5.507825, 8.090069), (5.988263, 7.49159), (6.586105, 7.010359))
            Line((7.241815, 7.554705), (6.586105, 7.010359))
            ThreePointArc((7.241815, 7.554705), (8.5, 7.25), (9.758185, 7.554705))
            Line((10.413895, 7.010359), (9.758185, 7.554705))
            ThreePointArc((10.413895, 7.010359), (11.011737, 7.49159), (11.492175, 8.090069))
            Line((10.945295, 8.741815), (11.492175, 8.090069))
            ThreePointArc((10.945295, 8.741815), (11.25, 10), (10.945295, 11.258185))
            Line((11.492175, 11.909931), (10.945295, 11.258185))
            ThreePointArc((11.492175, 11.909931), (11.011737, 12.50841), (10.413895, 12.989641))
            Line((9.758185, 12.445295), (10.413895, 12.989641))
            ThreePointArc((9.758185, 12.445295), (8.5, 12.75), (7.241815, 12.445295))
            Line((6.586105, 12.989641), (7.241815, 12.445295))
        make_face()
    extrude(amount=-POCKET030_DEPTH, mode=Mode.SUBTRACT)

    # Fusion031: union Pad013
    add(pad013.part)


with BuildPart() as fusion031_1:
    # Fusion031 placement: moved
    add(fusion031.part.moved(Location((197, 124, -544.5))))


solid = fusion031_1.part
